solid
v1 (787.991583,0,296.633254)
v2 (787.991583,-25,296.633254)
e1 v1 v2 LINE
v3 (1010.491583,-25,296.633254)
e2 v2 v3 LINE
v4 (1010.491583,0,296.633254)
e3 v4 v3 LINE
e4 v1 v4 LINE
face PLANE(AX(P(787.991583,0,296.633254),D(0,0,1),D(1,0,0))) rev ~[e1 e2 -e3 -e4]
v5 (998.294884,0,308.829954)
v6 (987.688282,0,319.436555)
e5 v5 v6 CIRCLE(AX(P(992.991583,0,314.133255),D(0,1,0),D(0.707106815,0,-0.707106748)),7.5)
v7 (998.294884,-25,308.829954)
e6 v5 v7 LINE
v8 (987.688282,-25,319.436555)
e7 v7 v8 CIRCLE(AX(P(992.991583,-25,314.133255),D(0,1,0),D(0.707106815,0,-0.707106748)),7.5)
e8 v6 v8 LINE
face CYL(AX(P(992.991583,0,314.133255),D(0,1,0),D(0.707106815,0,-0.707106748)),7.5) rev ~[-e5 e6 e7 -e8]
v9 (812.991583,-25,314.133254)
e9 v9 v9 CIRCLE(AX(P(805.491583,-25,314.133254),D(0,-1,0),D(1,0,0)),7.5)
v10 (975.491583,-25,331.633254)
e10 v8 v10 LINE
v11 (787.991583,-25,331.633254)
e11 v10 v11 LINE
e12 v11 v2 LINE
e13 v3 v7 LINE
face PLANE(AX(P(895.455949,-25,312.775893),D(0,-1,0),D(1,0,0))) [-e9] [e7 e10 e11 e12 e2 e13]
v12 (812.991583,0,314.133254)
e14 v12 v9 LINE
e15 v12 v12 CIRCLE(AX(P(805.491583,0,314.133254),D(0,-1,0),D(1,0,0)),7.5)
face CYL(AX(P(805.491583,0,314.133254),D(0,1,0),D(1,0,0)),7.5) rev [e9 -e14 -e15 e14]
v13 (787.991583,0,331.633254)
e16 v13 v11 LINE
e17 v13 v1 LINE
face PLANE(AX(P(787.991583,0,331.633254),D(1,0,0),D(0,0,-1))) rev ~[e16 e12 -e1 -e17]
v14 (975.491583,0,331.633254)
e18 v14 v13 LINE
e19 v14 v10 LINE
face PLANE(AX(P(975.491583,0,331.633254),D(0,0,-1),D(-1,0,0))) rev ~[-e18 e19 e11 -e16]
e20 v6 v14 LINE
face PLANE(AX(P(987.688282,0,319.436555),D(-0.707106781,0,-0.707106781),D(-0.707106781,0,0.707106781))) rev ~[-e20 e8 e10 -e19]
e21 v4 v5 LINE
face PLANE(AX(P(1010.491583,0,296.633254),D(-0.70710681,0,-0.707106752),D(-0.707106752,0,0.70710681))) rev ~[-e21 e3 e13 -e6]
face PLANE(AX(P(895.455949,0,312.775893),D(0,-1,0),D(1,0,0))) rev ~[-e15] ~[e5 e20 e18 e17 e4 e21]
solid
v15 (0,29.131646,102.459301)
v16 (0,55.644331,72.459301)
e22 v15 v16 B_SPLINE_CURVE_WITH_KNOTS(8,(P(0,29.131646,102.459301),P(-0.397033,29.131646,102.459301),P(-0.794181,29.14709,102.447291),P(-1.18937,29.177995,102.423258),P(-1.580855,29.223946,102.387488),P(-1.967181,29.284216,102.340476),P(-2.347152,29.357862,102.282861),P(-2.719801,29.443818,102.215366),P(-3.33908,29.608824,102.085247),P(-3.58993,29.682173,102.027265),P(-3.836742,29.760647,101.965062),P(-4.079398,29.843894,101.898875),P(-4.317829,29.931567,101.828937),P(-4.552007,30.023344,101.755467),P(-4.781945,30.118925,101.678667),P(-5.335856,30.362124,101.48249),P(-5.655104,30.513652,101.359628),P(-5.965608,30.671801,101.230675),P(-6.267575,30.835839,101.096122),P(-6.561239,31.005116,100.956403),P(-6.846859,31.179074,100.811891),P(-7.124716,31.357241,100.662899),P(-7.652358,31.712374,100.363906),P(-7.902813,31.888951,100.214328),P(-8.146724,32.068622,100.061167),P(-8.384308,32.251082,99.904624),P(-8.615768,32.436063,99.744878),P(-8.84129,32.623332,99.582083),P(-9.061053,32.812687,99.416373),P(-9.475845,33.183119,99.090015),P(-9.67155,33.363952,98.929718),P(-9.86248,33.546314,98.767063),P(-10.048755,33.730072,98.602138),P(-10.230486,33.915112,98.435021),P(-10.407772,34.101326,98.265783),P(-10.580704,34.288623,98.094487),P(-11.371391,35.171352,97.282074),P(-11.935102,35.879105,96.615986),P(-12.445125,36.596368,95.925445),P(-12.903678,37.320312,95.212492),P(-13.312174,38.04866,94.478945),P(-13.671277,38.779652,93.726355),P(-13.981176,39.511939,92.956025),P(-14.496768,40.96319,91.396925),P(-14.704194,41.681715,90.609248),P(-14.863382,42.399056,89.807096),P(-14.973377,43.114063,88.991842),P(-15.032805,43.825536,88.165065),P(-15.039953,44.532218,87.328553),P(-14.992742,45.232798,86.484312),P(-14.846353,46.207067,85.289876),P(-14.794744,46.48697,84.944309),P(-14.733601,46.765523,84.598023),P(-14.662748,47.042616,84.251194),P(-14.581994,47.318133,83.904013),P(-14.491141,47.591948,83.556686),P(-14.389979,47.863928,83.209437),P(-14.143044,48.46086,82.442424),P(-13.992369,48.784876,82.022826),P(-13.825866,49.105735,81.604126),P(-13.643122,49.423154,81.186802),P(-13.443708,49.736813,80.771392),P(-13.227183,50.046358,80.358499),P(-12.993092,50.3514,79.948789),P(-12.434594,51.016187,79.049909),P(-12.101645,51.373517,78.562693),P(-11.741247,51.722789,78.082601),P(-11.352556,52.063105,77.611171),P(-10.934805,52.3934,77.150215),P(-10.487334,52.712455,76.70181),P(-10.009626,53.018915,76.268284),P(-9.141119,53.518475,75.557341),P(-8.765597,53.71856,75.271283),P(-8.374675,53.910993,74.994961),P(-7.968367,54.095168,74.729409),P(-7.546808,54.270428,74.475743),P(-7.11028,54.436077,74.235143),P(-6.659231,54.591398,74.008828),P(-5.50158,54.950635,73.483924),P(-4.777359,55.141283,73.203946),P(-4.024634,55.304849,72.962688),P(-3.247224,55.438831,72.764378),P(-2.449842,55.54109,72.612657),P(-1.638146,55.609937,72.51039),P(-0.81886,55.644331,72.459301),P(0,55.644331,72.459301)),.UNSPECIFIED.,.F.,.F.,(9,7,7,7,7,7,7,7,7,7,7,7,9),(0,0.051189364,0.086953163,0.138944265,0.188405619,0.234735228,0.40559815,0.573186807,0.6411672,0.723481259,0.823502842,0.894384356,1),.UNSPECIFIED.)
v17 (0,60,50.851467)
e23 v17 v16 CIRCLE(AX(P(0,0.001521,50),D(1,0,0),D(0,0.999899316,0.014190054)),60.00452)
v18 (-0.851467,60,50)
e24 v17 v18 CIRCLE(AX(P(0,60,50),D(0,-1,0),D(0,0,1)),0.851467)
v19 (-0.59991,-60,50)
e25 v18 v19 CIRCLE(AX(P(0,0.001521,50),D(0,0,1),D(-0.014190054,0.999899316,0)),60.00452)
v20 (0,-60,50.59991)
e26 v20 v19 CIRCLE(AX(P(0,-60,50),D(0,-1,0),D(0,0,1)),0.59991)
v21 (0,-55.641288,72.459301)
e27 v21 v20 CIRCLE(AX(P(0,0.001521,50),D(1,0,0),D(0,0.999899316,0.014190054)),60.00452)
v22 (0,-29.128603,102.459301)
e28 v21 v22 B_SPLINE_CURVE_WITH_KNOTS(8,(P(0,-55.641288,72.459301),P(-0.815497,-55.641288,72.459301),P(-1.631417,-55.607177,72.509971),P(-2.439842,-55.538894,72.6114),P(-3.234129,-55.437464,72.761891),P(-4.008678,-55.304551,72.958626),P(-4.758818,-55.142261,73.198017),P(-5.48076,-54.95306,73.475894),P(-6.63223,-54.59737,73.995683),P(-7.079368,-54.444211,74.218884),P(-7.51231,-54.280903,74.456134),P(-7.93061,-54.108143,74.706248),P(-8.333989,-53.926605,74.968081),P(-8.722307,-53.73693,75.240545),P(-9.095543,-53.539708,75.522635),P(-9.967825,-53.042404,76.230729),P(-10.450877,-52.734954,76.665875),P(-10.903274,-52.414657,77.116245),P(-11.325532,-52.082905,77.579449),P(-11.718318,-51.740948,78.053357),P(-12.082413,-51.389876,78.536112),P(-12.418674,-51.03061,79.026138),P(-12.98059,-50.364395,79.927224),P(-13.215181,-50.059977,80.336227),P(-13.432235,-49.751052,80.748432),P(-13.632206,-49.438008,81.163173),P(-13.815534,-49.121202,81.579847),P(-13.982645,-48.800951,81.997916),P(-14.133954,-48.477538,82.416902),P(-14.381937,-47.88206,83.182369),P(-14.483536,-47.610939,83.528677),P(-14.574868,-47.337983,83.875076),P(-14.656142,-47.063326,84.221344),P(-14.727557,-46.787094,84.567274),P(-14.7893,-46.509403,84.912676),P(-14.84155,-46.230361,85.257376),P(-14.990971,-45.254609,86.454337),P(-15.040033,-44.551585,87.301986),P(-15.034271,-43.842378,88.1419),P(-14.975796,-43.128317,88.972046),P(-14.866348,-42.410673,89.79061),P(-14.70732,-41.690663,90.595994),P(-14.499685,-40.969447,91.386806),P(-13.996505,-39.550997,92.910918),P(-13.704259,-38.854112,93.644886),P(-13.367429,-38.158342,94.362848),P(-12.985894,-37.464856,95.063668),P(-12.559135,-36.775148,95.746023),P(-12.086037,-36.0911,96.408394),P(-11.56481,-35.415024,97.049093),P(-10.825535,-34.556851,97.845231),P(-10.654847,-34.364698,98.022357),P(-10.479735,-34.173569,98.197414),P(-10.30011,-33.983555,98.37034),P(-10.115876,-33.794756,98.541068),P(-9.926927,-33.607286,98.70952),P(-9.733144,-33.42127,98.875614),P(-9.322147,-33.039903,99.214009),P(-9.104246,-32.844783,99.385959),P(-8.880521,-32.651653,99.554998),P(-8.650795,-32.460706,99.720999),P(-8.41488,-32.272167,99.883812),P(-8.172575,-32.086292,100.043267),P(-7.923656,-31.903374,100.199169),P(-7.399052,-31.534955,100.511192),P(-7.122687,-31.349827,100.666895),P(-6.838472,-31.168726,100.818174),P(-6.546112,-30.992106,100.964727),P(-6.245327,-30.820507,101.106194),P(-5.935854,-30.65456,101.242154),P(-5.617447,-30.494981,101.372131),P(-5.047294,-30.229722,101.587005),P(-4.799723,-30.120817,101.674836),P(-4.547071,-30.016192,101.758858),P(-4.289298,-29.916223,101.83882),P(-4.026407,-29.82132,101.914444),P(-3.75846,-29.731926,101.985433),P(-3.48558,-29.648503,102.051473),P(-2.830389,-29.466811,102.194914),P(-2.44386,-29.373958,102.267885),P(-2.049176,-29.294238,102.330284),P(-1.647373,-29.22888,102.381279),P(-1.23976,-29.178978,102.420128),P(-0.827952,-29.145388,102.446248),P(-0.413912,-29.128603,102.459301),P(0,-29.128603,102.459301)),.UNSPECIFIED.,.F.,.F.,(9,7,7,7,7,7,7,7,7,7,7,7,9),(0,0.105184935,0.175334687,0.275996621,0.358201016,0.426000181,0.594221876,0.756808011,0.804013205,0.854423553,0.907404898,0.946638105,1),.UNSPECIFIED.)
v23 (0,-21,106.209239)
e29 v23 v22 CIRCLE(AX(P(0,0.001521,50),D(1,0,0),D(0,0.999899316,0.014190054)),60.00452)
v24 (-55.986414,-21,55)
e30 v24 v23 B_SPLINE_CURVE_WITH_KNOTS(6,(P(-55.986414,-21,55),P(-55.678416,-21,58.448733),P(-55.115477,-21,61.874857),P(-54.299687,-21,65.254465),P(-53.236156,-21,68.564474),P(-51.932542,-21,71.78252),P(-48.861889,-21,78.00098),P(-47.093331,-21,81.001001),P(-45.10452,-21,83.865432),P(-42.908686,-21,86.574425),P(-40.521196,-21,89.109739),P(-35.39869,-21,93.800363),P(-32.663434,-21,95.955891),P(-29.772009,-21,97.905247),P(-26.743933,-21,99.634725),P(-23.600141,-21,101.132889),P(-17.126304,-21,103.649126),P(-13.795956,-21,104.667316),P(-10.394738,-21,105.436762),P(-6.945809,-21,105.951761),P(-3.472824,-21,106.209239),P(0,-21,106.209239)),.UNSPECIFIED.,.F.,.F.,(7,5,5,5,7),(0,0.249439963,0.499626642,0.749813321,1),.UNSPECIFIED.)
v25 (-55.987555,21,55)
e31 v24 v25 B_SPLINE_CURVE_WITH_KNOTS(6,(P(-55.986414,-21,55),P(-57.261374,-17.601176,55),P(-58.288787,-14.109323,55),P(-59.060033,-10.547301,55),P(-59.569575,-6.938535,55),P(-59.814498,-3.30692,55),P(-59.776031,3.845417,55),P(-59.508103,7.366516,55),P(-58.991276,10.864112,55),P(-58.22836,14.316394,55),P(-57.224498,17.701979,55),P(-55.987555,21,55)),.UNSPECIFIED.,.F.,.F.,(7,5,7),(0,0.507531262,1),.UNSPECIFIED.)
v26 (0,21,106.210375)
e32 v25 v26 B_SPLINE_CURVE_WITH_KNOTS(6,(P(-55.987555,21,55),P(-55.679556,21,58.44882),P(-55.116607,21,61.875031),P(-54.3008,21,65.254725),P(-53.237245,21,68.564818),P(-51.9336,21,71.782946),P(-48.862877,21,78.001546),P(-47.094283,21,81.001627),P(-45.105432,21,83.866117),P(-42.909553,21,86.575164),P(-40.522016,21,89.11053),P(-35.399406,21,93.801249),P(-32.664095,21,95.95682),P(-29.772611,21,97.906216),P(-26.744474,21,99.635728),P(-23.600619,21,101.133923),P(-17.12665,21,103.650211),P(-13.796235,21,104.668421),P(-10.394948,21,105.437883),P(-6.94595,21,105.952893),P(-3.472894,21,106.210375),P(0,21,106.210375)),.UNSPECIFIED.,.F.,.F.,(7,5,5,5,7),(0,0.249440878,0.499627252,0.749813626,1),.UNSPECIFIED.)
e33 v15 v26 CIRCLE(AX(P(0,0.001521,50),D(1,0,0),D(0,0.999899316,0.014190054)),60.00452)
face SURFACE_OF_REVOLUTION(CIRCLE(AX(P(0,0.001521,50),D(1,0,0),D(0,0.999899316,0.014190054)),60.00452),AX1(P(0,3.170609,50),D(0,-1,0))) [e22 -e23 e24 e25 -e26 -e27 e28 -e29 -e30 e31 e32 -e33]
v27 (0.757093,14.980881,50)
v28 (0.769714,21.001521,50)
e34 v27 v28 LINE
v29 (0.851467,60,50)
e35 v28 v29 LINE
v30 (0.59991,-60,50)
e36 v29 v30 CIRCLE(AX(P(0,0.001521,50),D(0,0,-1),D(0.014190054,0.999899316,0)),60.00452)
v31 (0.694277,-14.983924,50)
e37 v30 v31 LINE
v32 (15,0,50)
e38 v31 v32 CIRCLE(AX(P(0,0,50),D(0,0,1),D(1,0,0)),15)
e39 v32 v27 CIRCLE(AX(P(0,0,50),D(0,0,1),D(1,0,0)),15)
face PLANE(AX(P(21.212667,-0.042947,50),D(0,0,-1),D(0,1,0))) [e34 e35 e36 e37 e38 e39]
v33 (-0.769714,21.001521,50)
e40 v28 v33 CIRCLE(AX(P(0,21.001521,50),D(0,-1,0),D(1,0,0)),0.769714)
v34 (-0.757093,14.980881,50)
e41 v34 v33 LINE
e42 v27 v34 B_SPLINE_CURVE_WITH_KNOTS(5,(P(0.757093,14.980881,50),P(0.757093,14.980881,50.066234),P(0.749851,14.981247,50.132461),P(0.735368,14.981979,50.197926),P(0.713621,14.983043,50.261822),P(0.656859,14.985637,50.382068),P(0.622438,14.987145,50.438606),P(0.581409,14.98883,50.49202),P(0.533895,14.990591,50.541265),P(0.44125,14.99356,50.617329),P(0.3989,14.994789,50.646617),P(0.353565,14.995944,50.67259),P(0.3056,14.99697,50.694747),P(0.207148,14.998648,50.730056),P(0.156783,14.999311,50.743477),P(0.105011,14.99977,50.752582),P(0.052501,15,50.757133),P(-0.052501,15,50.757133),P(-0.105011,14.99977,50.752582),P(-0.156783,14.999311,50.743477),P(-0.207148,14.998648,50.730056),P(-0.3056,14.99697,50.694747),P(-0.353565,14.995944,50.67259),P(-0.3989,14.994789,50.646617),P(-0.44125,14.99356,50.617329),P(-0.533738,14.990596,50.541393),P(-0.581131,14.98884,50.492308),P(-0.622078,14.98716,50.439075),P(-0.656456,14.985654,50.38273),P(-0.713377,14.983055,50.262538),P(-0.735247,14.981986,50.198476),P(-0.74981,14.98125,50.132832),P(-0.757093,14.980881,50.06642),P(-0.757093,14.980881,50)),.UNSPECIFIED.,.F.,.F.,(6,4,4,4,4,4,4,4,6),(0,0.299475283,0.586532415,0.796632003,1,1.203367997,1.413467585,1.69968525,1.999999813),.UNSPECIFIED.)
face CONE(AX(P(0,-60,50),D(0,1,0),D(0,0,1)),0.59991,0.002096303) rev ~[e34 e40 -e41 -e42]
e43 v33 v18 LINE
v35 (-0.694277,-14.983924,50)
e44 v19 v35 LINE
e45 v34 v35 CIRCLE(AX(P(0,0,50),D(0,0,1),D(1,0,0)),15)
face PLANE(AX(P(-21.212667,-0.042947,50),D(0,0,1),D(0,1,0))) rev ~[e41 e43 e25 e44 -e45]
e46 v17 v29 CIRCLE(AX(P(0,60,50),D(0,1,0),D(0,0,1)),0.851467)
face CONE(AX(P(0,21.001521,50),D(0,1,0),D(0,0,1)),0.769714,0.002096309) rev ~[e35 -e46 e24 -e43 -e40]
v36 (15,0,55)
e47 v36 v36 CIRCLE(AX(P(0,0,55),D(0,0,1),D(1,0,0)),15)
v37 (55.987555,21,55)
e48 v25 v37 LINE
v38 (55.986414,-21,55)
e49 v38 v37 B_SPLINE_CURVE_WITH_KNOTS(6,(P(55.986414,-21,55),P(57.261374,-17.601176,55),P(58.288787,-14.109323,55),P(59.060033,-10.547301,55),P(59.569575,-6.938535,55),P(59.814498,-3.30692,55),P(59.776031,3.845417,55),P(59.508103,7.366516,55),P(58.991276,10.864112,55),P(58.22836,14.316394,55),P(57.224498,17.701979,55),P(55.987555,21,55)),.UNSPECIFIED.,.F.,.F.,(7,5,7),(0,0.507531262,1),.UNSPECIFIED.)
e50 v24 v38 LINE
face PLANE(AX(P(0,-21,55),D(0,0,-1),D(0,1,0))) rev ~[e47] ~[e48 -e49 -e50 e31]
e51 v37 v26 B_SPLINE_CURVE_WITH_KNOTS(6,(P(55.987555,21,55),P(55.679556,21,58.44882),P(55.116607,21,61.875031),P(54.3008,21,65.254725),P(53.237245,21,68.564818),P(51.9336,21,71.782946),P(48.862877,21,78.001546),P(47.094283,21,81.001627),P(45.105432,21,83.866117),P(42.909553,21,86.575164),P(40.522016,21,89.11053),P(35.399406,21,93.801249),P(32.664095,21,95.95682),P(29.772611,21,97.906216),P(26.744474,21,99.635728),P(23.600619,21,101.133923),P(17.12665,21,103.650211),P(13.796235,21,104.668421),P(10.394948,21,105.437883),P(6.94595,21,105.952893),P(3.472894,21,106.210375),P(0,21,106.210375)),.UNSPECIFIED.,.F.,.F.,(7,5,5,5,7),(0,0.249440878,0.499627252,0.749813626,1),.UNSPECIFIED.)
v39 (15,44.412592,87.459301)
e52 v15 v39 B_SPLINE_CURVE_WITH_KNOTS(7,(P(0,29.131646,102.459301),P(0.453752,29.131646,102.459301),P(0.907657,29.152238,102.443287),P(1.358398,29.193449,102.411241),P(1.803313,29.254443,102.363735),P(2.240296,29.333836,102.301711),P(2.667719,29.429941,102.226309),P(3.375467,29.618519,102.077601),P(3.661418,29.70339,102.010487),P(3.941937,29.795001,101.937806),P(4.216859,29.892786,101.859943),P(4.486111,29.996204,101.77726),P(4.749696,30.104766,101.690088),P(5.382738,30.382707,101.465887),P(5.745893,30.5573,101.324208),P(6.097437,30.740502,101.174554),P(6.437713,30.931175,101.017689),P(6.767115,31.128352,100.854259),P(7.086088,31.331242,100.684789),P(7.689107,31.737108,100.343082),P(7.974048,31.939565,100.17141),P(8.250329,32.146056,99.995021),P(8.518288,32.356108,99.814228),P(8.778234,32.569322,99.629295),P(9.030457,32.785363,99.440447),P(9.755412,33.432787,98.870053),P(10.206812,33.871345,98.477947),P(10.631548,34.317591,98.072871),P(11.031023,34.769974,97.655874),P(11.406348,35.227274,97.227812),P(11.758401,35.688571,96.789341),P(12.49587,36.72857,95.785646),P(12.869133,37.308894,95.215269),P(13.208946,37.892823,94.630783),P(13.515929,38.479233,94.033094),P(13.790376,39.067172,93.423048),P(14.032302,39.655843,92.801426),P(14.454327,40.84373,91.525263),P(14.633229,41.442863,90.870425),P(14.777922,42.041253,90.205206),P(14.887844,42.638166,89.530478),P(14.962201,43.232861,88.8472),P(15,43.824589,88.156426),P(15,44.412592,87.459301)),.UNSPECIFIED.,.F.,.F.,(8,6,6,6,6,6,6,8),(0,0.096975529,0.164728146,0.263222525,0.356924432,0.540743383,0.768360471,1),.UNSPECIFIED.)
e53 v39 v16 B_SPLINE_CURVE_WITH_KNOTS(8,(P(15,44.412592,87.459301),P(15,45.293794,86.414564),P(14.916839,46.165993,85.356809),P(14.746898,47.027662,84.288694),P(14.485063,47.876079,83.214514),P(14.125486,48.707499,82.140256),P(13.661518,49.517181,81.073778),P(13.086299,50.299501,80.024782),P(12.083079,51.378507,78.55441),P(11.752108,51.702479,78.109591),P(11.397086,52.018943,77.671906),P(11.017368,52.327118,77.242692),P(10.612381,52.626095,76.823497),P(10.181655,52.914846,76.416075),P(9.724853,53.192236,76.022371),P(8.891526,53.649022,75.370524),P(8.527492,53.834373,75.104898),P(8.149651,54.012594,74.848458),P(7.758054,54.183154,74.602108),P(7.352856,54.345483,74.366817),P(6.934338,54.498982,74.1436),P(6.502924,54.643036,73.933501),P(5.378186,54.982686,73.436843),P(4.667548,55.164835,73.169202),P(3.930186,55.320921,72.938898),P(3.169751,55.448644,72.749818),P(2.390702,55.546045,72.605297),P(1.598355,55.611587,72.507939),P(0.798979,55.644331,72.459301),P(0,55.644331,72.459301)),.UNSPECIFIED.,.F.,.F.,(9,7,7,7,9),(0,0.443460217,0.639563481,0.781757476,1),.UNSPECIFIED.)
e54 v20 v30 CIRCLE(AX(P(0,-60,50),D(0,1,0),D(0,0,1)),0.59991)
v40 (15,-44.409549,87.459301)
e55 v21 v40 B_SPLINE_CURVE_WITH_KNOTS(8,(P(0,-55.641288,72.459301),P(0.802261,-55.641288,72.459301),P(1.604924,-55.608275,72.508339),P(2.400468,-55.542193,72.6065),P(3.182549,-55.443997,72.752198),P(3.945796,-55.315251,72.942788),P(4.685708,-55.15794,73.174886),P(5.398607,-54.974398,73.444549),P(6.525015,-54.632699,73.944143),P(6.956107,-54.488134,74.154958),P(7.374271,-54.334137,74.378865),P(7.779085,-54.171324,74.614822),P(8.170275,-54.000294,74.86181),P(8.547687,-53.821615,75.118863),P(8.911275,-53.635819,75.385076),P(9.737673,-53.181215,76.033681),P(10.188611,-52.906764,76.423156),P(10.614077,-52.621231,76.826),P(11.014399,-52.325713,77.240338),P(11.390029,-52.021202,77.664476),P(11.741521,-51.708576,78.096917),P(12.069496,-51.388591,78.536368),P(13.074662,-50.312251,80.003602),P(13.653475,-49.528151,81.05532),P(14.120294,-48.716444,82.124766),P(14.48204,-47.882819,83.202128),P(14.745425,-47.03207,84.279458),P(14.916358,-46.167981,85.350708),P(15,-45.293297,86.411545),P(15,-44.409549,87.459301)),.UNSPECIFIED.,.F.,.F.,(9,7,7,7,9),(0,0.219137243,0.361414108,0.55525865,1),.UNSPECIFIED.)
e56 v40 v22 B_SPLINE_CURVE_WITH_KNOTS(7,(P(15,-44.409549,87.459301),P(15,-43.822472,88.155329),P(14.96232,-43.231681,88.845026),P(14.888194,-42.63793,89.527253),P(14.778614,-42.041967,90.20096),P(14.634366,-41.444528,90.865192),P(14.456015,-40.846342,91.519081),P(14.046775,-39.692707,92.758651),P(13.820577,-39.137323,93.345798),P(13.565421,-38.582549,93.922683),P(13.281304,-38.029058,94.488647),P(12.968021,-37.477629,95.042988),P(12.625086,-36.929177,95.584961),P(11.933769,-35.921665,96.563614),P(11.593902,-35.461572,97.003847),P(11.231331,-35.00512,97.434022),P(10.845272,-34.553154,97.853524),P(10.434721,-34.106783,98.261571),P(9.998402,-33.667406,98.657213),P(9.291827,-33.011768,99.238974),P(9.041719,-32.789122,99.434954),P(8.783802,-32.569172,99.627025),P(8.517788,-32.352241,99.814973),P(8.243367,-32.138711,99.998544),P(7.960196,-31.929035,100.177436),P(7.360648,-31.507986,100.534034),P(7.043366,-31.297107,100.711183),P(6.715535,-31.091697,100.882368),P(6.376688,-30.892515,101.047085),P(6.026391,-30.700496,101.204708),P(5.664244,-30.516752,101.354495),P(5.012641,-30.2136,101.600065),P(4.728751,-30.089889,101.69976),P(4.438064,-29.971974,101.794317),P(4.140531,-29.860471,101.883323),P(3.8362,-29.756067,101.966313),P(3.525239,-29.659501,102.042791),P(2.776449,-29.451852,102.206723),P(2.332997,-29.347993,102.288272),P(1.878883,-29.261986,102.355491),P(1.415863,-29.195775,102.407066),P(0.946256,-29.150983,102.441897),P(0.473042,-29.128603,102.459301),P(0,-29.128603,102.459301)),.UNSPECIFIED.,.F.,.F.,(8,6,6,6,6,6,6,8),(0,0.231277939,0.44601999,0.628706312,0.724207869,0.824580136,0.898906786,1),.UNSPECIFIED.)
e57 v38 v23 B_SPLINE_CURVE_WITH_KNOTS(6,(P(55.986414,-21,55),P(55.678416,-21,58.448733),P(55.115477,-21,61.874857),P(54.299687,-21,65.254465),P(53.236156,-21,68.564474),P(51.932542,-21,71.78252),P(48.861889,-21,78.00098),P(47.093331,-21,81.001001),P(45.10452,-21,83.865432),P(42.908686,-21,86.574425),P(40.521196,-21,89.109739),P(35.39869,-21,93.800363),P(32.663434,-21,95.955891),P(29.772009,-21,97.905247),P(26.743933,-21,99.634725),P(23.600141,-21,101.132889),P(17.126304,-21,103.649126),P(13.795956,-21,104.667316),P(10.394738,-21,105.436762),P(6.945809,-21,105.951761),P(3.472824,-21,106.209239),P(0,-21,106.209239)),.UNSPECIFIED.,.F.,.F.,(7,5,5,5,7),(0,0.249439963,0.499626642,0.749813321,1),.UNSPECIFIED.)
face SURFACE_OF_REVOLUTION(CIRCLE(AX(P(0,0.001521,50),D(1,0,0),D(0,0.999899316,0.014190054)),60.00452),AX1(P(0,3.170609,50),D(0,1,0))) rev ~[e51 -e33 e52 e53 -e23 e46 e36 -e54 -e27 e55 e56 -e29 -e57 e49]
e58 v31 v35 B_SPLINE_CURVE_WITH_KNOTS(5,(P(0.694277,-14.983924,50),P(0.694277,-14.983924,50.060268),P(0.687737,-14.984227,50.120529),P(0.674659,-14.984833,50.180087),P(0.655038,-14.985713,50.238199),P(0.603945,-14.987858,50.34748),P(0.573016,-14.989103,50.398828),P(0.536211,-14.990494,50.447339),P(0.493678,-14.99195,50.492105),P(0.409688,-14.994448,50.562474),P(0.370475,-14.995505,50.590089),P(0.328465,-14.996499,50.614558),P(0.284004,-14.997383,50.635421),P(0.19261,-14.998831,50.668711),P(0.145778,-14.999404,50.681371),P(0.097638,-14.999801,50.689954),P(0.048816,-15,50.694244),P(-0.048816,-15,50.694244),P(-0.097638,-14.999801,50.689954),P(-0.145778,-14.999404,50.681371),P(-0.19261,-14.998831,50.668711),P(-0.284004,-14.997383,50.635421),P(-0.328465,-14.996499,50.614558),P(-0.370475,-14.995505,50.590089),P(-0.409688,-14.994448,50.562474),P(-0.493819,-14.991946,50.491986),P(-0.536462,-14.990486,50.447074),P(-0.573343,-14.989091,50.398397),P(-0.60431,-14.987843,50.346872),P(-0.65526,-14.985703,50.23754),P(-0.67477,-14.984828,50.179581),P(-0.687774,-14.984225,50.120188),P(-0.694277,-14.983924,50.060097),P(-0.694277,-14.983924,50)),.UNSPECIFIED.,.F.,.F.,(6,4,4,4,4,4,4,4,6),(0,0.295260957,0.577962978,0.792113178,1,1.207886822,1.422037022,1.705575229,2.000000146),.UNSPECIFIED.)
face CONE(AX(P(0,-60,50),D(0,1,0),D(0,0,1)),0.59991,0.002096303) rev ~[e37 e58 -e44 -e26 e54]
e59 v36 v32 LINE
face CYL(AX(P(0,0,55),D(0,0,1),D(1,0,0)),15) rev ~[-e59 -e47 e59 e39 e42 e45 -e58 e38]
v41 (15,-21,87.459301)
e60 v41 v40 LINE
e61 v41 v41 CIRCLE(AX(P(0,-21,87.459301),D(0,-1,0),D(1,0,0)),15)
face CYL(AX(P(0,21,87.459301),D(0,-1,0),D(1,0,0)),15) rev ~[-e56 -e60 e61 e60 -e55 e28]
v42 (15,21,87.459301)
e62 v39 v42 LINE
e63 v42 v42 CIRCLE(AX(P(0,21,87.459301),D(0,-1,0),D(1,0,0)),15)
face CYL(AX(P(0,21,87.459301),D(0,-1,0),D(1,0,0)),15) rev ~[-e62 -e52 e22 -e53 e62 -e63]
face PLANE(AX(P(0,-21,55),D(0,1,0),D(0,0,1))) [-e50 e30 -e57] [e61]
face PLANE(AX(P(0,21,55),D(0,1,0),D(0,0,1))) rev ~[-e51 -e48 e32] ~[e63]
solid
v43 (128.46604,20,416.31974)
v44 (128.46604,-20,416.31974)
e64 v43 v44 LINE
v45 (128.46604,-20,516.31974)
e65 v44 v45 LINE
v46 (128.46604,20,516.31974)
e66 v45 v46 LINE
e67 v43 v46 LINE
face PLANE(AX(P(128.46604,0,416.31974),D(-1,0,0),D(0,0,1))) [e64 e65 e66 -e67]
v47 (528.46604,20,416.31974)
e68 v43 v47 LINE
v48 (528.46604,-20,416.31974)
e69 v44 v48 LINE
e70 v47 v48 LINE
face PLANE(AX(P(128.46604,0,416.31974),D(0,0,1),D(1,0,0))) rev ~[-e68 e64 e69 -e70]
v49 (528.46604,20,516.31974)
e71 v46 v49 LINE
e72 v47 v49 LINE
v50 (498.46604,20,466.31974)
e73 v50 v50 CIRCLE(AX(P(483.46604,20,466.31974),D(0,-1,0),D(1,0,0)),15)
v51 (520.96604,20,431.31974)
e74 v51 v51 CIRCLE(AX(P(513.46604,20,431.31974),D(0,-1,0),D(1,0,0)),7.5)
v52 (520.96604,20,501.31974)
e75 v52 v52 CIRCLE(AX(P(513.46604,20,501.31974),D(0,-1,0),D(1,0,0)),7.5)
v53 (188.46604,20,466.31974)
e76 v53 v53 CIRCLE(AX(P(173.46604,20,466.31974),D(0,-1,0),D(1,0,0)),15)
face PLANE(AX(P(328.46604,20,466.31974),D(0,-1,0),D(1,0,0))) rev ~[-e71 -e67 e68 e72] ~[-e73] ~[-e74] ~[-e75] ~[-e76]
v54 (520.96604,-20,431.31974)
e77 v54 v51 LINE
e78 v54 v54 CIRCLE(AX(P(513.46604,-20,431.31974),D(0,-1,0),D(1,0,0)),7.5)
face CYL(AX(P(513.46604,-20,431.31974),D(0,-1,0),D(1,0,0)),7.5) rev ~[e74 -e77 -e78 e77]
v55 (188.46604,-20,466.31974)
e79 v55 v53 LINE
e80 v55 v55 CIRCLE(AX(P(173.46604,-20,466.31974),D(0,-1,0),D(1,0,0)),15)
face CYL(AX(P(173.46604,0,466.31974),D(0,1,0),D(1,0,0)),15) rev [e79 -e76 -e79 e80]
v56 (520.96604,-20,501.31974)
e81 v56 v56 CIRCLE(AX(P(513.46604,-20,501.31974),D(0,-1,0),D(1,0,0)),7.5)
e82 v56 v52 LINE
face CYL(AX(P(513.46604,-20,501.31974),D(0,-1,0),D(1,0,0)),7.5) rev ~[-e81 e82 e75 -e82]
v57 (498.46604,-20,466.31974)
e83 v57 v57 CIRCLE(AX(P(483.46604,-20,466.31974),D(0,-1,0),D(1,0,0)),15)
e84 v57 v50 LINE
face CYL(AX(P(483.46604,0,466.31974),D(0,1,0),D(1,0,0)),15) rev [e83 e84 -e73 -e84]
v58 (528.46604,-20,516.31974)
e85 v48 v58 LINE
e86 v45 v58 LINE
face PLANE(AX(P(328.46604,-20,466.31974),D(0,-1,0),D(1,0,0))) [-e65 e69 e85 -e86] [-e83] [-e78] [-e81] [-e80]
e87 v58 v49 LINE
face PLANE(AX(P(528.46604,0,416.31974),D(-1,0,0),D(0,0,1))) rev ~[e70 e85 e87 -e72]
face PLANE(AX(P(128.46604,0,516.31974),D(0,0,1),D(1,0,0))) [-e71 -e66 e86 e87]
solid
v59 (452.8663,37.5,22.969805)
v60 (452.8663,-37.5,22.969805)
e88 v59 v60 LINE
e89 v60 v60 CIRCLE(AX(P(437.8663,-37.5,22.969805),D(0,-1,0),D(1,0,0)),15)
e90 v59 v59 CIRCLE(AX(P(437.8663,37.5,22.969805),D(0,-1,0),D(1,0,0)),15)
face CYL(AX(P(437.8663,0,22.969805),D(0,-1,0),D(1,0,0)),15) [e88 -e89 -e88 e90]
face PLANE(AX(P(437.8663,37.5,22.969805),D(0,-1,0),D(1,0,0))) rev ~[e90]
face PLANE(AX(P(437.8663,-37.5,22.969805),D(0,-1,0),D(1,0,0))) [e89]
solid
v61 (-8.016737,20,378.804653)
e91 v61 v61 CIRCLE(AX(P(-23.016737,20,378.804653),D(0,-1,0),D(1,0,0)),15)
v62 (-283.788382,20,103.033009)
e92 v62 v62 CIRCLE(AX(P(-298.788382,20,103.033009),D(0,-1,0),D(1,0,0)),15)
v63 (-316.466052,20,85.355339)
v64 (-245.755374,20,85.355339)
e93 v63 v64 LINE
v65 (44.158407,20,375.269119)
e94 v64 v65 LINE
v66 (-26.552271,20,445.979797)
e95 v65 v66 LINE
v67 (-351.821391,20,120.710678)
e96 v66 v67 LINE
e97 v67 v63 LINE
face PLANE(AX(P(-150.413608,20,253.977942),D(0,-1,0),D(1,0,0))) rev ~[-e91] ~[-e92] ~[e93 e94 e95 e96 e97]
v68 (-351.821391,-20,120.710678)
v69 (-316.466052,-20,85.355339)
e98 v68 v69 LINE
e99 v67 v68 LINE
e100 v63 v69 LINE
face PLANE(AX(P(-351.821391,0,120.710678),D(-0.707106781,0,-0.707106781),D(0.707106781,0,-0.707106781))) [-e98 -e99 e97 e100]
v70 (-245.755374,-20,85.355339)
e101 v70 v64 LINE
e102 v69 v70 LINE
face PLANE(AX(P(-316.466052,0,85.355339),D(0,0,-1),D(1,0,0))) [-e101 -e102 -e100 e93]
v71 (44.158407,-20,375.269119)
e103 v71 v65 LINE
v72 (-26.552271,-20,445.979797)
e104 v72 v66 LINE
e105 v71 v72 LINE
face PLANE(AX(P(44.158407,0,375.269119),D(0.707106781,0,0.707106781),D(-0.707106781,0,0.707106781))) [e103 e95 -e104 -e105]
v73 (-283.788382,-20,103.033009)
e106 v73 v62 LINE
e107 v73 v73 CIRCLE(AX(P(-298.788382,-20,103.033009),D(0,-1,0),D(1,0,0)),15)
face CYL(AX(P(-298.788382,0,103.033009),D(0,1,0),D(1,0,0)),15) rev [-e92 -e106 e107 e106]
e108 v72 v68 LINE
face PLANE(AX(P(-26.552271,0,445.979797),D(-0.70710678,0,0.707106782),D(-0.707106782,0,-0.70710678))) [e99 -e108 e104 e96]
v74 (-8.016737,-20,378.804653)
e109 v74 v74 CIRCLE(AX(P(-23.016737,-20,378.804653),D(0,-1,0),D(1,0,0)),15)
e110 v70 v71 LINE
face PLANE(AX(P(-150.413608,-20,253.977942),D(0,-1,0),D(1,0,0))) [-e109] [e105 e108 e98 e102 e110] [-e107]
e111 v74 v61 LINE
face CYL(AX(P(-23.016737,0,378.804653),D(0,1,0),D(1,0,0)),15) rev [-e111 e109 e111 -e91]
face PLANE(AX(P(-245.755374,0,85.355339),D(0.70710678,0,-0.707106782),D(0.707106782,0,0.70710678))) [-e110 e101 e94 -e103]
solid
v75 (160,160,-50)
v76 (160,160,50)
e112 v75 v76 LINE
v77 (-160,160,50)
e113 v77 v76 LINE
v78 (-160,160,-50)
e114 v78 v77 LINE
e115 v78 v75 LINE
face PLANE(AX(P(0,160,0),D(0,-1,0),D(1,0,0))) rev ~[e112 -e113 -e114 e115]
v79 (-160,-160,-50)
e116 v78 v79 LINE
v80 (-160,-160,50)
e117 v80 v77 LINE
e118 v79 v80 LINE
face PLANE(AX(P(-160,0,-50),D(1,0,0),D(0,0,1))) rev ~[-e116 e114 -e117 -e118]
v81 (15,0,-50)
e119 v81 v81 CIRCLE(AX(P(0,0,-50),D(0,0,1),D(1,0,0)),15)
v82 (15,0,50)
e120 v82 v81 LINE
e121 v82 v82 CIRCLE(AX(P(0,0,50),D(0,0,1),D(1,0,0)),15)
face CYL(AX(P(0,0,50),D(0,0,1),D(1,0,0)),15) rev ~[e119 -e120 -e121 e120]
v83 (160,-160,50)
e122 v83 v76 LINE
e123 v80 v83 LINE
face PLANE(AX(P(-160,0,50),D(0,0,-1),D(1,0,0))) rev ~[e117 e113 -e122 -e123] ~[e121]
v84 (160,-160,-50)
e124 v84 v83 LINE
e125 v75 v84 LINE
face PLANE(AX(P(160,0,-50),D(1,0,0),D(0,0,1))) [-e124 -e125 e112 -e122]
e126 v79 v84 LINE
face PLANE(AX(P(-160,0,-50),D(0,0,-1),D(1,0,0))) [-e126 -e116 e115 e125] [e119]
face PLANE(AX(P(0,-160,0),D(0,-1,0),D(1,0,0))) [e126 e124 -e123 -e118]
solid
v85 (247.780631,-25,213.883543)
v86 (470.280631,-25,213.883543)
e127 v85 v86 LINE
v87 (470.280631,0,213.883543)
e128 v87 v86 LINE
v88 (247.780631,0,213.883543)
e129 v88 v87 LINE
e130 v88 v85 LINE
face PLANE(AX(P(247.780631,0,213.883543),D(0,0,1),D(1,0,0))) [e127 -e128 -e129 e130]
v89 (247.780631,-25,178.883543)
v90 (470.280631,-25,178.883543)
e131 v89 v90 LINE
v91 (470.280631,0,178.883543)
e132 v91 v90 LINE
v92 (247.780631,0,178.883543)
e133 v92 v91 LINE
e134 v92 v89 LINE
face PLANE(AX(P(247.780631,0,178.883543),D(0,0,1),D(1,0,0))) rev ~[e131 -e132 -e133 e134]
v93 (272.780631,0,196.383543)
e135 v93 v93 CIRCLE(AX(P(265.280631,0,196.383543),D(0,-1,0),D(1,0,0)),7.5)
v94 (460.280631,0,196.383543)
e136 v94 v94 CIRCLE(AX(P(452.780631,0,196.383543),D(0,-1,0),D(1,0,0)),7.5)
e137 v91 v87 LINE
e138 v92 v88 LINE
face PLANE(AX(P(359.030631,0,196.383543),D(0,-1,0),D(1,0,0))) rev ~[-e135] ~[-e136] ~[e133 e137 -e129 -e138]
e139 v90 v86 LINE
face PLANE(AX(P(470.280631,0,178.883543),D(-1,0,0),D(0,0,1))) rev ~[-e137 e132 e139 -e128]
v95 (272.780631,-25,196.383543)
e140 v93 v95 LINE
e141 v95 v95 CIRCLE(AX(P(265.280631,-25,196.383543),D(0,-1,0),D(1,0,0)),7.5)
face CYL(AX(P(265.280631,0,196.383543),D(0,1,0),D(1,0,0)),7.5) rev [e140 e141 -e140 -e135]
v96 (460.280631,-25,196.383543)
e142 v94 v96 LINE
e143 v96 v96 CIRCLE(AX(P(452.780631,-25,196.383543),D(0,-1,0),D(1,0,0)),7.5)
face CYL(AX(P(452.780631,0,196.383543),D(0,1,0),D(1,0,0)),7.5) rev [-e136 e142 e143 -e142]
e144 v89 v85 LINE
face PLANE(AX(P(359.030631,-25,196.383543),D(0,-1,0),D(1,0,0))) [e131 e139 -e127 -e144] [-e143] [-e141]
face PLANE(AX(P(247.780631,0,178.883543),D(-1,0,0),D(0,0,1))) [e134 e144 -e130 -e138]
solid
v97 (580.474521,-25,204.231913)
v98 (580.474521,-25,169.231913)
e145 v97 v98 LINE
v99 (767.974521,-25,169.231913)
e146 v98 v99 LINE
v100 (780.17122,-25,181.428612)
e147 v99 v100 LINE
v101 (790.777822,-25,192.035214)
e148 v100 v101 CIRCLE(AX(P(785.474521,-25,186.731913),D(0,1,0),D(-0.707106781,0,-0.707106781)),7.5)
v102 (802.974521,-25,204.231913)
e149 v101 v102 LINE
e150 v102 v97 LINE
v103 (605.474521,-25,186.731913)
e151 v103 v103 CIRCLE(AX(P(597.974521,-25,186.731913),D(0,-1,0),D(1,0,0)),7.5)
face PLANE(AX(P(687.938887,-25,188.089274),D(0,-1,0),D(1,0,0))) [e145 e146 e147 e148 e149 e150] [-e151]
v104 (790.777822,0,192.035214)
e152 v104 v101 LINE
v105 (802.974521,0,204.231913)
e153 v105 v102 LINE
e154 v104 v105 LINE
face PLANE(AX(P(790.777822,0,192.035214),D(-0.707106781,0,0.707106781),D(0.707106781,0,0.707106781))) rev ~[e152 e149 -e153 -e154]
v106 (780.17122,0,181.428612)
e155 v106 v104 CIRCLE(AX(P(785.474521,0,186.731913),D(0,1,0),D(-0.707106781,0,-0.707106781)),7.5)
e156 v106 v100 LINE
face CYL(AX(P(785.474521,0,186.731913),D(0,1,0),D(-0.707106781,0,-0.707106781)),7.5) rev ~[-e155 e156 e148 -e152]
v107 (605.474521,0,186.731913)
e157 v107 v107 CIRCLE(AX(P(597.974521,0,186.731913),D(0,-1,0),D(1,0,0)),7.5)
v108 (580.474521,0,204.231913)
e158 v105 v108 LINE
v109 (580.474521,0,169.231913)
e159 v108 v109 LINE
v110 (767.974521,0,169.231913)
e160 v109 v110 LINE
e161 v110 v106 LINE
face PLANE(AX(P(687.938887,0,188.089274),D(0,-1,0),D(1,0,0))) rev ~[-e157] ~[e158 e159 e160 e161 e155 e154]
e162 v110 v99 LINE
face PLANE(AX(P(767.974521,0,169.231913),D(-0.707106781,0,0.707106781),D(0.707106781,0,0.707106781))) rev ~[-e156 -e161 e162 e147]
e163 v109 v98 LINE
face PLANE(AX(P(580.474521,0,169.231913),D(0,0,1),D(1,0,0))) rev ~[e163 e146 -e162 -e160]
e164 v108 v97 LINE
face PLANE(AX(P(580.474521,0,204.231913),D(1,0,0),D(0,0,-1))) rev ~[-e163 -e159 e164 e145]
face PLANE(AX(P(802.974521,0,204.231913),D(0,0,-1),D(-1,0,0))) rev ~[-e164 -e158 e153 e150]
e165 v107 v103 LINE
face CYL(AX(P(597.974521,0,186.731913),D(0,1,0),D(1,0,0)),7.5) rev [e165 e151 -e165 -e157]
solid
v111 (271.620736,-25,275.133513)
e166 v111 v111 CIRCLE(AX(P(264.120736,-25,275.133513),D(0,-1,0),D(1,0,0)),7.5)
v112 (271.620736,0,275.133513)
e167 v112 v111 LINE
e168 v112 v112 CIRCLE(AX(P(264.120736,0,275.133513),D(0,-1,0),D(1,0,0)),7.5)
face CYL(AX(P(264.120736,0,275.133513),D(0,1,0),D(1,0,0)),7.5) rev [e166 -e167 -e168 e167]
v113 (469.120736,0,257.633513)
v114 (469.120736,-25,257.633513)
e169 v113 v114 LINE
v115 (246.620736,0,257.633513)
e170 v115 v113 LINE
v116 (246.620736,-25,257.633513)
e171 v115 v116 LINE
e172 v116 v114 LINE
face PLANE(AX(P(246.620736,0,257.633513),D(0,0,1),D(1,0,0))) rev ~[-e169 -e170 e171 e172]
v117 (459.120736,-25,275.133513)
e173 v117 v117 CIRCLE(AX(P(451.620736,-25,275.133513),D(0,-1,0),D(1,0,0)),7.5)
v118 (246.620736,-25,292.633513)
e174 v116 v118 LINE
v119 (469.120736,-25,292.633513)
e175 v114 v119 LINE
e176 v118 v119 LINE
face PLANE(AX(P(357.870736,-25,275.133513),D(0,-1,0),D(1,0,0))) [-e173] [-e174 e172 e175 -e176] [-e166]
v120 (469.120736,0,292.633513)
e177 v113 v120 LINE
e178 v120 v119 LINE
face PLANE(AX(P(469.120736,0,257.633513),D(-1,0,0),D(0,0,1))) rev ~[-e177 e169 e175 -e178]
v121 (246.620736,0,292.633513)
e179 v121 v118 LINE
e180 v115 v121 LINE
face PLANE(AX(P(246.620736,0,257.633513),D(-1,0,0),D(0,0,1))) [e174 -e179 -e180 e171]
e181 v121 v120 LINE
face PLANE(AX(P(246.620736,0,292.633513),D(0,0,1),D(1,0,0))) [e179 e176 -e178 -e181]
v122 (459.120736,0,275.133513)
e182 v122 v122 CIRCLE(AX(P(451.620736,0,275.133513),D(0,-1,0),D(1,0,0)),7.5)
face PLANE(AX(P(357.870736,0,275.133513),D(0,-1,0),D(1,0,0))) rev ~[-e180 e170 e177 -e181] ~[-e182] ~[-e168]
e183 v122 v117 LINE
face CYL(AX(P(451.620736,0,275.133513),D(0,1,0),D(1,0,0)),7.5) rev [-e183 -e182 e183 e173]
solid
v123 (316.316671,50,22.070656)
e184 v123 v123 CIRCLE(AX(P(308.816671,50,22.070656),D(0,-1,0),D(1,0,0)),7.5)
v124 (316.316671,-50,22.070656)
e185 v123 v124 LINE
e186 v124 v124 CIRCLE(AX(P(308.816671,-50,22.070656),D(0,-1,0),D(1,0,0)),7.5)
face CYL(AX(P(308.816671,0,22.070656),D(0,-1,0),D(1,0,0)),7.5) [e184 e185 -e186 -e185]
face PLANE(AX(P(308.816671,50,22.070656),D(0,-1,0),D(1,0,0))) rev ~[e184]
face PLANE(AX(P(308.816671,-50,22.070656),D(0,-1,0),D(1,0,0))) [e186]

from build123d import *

# Parameters (mm, degrees)
F0_W      = 320
F0_H      = 100
F1_DEPTH  = 160
F0_W_2    = 400
F0_R      = 15
F2_DEPTH  = 20
F4_ANGLE  = 180
F5_W      = 42
F5_H      = 72.515162
F6_DEPTH  = 100
F7_R      = 15
F8_DEPTH  = 100.001
F9_R      = 15
F10_DEPTH = 388.23848
F11_R     = 15
F12_DEPTH = 538.03559
F14_R     = 7.5
F15_DEPTH = 180.001
F13_W     = 222.5
F13_H     = 35
F13_R     = 7.5
F16_DEPTH = 25
F17_R     = 15
F18_DEPTH = 37.5
F19_R     = 7.5
F20_DEPTH = 50


with BuildPart() as f1:
    # F0 (on Front) → F1 (new body, symmetric)
    with BuildSketch(Plane.XZ):
        Rectangle(F0_W, F0_H)
    extrude(amount=F1_DEPTH, both=True)

    # F0 (on Front) → F2 (join, symmetric)
    with BuildSketch(Plane.XZ):
        Rectangle(F0_W, F0_H)
        with Locations((328.46604, 466.31974)):
            Rectangle(F0_W_2, F0_H)
        with Locations((173.46604, 466.31974)):
            Circle(F0_R, mode=Mode.SUBTRACT)
        with Locations((483.46604, 466.31974)):
            Circle(F0_R, mode=Mode.SUBTRACT)
        Polygon((-26.552271, 445.979797), (-351.821391, 120.710678), (-316.466052, 85.355339), (-245.755374, 85.355339), (44.158407, 375.269119), align=None)
        with Locations((-298.788382, 103.033009)):
            Circle(F0_R, mode=Mode.SUBTRACT)
        with Locations((-23.016737, 378.804653)):
            Circle(F0_R, mode=Mode.SUBTRACT)
    extrude(amount=F2_DEPTH, both=True)

    # F7 (on face) → F8 (cut, through all)
    with BuildSketch(Plane.XY.offset(50)):
        Circle(F7_R)
    extrude(amount=-F8_DEPTH, mode=Mode.SUBTRACT)

    # F14 (on face) → F15 (cut, through all)
    with BuildSketch(Plane.XZ.offset(20)):
        with Locations((513.46604, 501.31974)):
            Circle(F14_R)
        with Locations((513.46604, 431.31974)):
            Circle(F14_R)
    extrude(amount=-F15_DEPTH, mode=Mode.SUBTRACT)


with BuildPart() as f4:
    # F3 (on Right) → F4 (revolve, symmetric)
    with BuildSketch(Plane.YZ) as f4_sk:
        with BuildLine():
            Line((21.001521, 50.769714), (60, 50.851467))
            ThreePointArc((60, 50.851467), (-0.124267, 110.004388), (-60, 50.59991))
            Line((-60, 50.59991), (21.001521, 50.769714))
        make_face()
    revolve(axis=Axis((0, 3.170609, 50), (0, -1, 0)), revolution_arc=F4_ANGLE / 2)
    revolve(f4_sk.sketch, axis=Axis((0, 3.170609, 50), (0, 1, 0)), revolution_arc=F4_ANGLE / 2)

    # F5 (on Right) → F6 (cut, symmetric)
    with BuildSketch(Plane.YZ):
        with Locations((0, 91.257581)):
            Rectangle(F5_W, F5_H)
    extrude(amount=F6_DEPTH, both=True, mode=Mode.SUBTRACT)

    # F9 (on face) → F10 (cut)
    with BuildSketch(Plane.XY.offset(55)):
        Circle(F9_R)
    extrude(amount=-F10_DEPTH, mode=Mode.SUBTRACT)

    # F11 (on face) → F12 (cut, symmetric)
    with BuildSketch(Plane.XZ.offset(-21)):
        with Locations((0, 87.459301)):
            Circle(F11_R)
    extrude(amount=F12_DEPTH, both=True, mode=Mode.SUBTRACT)


with BuildPart() as f16:
    # F13 (on Front) → F16 (new body)
    with BuildSketch(Plane.XZ):
        with Locations((357.870736, 275.133513)):
            Rectangle(F13_W, F13_H)
        with Locations((264.120736, 275.133513)):
            Circle(F13_R, mode=Mode.SUBTRACT)
        with Locations((451.620736, 275.133513)):
            Circle(F13_R, mode=Mode.SUBTRACT)
        with Locations((359.030631, 196.383543)):
            Rectangle(F13_W, F13_H)
        with Locations((265.280631, 196.383543)):
            Circle(F13_R, mode=Mode.SUBTRACT)
        with Locations((452.780631, 196.383543)):
            Circle(F13_R, mode=Mode.SUBTRACT)
        with BuildLine():
            Line((580.474521, 204.231913), (580.474521, 169.231913))
            Line((580.474521, 169.231913), (767.974521, 169.231913))
            Line((767.974521, 169.231913), (780.17122, 181.428612))
            ThreePointArc((780.17122, 181.428612), (780.17122, 192.035214), (790.777822, 192.035214))
            Line((790.777822, 192.035214), (802.974521, 204.231913))
            Line((802.974521, 204.231913), (580.474521, 204.231913))
        make_face()
        with Locations((597.974521, 186.731913)):
            Circle(F13_R, mode=Mode.SUBTRACT)
        with BuildLine():
            Line((787.991583, 331.633254), (787.991583, 296.633254))
            Line((787.991583, 296.633254), (1010.491583, 296.633254))
            Line((1010.491583, 296.633254), (998.294884, 308.829954))
            ThreePointArc((998.294884, 308.829954), (987.688282, 308.829954), (987.688282, 319.436555))
            Line((987.688282, 319.436555), (975.491583, 331.633254))
            Line((975.491583, 331.633254), (787.991583, 331.633254))
        make_face()
        with Locations((805.491583, 314.133254)):
            Circle(F13_R, mode=Mode.SUBTRACT)
    extrude(amount=F16_DEPTH)


with BuildPart() as f18:
    # F17 (on Front) → F18 (new body, symmetric)
    with BuildSketch(Plane.XZ):
        with Locations((437.8663, 22.969805)):
            Circle(F17_R)
    extrude(amount=F18_DEPTH, both=True)


with BuildPart() as f20:
    # F19 (on Front) → F20 (new body, symmetric)
    with BuildSketch(Plane.XZ):
        with Locations((308.816671, 22.070656)):
            Circle(F19_R)
    extrude(amount=F20_DEPTH, both=True)


solid = Compound([f1.part, f4.part, f16.part, f18.part, f20.part])
